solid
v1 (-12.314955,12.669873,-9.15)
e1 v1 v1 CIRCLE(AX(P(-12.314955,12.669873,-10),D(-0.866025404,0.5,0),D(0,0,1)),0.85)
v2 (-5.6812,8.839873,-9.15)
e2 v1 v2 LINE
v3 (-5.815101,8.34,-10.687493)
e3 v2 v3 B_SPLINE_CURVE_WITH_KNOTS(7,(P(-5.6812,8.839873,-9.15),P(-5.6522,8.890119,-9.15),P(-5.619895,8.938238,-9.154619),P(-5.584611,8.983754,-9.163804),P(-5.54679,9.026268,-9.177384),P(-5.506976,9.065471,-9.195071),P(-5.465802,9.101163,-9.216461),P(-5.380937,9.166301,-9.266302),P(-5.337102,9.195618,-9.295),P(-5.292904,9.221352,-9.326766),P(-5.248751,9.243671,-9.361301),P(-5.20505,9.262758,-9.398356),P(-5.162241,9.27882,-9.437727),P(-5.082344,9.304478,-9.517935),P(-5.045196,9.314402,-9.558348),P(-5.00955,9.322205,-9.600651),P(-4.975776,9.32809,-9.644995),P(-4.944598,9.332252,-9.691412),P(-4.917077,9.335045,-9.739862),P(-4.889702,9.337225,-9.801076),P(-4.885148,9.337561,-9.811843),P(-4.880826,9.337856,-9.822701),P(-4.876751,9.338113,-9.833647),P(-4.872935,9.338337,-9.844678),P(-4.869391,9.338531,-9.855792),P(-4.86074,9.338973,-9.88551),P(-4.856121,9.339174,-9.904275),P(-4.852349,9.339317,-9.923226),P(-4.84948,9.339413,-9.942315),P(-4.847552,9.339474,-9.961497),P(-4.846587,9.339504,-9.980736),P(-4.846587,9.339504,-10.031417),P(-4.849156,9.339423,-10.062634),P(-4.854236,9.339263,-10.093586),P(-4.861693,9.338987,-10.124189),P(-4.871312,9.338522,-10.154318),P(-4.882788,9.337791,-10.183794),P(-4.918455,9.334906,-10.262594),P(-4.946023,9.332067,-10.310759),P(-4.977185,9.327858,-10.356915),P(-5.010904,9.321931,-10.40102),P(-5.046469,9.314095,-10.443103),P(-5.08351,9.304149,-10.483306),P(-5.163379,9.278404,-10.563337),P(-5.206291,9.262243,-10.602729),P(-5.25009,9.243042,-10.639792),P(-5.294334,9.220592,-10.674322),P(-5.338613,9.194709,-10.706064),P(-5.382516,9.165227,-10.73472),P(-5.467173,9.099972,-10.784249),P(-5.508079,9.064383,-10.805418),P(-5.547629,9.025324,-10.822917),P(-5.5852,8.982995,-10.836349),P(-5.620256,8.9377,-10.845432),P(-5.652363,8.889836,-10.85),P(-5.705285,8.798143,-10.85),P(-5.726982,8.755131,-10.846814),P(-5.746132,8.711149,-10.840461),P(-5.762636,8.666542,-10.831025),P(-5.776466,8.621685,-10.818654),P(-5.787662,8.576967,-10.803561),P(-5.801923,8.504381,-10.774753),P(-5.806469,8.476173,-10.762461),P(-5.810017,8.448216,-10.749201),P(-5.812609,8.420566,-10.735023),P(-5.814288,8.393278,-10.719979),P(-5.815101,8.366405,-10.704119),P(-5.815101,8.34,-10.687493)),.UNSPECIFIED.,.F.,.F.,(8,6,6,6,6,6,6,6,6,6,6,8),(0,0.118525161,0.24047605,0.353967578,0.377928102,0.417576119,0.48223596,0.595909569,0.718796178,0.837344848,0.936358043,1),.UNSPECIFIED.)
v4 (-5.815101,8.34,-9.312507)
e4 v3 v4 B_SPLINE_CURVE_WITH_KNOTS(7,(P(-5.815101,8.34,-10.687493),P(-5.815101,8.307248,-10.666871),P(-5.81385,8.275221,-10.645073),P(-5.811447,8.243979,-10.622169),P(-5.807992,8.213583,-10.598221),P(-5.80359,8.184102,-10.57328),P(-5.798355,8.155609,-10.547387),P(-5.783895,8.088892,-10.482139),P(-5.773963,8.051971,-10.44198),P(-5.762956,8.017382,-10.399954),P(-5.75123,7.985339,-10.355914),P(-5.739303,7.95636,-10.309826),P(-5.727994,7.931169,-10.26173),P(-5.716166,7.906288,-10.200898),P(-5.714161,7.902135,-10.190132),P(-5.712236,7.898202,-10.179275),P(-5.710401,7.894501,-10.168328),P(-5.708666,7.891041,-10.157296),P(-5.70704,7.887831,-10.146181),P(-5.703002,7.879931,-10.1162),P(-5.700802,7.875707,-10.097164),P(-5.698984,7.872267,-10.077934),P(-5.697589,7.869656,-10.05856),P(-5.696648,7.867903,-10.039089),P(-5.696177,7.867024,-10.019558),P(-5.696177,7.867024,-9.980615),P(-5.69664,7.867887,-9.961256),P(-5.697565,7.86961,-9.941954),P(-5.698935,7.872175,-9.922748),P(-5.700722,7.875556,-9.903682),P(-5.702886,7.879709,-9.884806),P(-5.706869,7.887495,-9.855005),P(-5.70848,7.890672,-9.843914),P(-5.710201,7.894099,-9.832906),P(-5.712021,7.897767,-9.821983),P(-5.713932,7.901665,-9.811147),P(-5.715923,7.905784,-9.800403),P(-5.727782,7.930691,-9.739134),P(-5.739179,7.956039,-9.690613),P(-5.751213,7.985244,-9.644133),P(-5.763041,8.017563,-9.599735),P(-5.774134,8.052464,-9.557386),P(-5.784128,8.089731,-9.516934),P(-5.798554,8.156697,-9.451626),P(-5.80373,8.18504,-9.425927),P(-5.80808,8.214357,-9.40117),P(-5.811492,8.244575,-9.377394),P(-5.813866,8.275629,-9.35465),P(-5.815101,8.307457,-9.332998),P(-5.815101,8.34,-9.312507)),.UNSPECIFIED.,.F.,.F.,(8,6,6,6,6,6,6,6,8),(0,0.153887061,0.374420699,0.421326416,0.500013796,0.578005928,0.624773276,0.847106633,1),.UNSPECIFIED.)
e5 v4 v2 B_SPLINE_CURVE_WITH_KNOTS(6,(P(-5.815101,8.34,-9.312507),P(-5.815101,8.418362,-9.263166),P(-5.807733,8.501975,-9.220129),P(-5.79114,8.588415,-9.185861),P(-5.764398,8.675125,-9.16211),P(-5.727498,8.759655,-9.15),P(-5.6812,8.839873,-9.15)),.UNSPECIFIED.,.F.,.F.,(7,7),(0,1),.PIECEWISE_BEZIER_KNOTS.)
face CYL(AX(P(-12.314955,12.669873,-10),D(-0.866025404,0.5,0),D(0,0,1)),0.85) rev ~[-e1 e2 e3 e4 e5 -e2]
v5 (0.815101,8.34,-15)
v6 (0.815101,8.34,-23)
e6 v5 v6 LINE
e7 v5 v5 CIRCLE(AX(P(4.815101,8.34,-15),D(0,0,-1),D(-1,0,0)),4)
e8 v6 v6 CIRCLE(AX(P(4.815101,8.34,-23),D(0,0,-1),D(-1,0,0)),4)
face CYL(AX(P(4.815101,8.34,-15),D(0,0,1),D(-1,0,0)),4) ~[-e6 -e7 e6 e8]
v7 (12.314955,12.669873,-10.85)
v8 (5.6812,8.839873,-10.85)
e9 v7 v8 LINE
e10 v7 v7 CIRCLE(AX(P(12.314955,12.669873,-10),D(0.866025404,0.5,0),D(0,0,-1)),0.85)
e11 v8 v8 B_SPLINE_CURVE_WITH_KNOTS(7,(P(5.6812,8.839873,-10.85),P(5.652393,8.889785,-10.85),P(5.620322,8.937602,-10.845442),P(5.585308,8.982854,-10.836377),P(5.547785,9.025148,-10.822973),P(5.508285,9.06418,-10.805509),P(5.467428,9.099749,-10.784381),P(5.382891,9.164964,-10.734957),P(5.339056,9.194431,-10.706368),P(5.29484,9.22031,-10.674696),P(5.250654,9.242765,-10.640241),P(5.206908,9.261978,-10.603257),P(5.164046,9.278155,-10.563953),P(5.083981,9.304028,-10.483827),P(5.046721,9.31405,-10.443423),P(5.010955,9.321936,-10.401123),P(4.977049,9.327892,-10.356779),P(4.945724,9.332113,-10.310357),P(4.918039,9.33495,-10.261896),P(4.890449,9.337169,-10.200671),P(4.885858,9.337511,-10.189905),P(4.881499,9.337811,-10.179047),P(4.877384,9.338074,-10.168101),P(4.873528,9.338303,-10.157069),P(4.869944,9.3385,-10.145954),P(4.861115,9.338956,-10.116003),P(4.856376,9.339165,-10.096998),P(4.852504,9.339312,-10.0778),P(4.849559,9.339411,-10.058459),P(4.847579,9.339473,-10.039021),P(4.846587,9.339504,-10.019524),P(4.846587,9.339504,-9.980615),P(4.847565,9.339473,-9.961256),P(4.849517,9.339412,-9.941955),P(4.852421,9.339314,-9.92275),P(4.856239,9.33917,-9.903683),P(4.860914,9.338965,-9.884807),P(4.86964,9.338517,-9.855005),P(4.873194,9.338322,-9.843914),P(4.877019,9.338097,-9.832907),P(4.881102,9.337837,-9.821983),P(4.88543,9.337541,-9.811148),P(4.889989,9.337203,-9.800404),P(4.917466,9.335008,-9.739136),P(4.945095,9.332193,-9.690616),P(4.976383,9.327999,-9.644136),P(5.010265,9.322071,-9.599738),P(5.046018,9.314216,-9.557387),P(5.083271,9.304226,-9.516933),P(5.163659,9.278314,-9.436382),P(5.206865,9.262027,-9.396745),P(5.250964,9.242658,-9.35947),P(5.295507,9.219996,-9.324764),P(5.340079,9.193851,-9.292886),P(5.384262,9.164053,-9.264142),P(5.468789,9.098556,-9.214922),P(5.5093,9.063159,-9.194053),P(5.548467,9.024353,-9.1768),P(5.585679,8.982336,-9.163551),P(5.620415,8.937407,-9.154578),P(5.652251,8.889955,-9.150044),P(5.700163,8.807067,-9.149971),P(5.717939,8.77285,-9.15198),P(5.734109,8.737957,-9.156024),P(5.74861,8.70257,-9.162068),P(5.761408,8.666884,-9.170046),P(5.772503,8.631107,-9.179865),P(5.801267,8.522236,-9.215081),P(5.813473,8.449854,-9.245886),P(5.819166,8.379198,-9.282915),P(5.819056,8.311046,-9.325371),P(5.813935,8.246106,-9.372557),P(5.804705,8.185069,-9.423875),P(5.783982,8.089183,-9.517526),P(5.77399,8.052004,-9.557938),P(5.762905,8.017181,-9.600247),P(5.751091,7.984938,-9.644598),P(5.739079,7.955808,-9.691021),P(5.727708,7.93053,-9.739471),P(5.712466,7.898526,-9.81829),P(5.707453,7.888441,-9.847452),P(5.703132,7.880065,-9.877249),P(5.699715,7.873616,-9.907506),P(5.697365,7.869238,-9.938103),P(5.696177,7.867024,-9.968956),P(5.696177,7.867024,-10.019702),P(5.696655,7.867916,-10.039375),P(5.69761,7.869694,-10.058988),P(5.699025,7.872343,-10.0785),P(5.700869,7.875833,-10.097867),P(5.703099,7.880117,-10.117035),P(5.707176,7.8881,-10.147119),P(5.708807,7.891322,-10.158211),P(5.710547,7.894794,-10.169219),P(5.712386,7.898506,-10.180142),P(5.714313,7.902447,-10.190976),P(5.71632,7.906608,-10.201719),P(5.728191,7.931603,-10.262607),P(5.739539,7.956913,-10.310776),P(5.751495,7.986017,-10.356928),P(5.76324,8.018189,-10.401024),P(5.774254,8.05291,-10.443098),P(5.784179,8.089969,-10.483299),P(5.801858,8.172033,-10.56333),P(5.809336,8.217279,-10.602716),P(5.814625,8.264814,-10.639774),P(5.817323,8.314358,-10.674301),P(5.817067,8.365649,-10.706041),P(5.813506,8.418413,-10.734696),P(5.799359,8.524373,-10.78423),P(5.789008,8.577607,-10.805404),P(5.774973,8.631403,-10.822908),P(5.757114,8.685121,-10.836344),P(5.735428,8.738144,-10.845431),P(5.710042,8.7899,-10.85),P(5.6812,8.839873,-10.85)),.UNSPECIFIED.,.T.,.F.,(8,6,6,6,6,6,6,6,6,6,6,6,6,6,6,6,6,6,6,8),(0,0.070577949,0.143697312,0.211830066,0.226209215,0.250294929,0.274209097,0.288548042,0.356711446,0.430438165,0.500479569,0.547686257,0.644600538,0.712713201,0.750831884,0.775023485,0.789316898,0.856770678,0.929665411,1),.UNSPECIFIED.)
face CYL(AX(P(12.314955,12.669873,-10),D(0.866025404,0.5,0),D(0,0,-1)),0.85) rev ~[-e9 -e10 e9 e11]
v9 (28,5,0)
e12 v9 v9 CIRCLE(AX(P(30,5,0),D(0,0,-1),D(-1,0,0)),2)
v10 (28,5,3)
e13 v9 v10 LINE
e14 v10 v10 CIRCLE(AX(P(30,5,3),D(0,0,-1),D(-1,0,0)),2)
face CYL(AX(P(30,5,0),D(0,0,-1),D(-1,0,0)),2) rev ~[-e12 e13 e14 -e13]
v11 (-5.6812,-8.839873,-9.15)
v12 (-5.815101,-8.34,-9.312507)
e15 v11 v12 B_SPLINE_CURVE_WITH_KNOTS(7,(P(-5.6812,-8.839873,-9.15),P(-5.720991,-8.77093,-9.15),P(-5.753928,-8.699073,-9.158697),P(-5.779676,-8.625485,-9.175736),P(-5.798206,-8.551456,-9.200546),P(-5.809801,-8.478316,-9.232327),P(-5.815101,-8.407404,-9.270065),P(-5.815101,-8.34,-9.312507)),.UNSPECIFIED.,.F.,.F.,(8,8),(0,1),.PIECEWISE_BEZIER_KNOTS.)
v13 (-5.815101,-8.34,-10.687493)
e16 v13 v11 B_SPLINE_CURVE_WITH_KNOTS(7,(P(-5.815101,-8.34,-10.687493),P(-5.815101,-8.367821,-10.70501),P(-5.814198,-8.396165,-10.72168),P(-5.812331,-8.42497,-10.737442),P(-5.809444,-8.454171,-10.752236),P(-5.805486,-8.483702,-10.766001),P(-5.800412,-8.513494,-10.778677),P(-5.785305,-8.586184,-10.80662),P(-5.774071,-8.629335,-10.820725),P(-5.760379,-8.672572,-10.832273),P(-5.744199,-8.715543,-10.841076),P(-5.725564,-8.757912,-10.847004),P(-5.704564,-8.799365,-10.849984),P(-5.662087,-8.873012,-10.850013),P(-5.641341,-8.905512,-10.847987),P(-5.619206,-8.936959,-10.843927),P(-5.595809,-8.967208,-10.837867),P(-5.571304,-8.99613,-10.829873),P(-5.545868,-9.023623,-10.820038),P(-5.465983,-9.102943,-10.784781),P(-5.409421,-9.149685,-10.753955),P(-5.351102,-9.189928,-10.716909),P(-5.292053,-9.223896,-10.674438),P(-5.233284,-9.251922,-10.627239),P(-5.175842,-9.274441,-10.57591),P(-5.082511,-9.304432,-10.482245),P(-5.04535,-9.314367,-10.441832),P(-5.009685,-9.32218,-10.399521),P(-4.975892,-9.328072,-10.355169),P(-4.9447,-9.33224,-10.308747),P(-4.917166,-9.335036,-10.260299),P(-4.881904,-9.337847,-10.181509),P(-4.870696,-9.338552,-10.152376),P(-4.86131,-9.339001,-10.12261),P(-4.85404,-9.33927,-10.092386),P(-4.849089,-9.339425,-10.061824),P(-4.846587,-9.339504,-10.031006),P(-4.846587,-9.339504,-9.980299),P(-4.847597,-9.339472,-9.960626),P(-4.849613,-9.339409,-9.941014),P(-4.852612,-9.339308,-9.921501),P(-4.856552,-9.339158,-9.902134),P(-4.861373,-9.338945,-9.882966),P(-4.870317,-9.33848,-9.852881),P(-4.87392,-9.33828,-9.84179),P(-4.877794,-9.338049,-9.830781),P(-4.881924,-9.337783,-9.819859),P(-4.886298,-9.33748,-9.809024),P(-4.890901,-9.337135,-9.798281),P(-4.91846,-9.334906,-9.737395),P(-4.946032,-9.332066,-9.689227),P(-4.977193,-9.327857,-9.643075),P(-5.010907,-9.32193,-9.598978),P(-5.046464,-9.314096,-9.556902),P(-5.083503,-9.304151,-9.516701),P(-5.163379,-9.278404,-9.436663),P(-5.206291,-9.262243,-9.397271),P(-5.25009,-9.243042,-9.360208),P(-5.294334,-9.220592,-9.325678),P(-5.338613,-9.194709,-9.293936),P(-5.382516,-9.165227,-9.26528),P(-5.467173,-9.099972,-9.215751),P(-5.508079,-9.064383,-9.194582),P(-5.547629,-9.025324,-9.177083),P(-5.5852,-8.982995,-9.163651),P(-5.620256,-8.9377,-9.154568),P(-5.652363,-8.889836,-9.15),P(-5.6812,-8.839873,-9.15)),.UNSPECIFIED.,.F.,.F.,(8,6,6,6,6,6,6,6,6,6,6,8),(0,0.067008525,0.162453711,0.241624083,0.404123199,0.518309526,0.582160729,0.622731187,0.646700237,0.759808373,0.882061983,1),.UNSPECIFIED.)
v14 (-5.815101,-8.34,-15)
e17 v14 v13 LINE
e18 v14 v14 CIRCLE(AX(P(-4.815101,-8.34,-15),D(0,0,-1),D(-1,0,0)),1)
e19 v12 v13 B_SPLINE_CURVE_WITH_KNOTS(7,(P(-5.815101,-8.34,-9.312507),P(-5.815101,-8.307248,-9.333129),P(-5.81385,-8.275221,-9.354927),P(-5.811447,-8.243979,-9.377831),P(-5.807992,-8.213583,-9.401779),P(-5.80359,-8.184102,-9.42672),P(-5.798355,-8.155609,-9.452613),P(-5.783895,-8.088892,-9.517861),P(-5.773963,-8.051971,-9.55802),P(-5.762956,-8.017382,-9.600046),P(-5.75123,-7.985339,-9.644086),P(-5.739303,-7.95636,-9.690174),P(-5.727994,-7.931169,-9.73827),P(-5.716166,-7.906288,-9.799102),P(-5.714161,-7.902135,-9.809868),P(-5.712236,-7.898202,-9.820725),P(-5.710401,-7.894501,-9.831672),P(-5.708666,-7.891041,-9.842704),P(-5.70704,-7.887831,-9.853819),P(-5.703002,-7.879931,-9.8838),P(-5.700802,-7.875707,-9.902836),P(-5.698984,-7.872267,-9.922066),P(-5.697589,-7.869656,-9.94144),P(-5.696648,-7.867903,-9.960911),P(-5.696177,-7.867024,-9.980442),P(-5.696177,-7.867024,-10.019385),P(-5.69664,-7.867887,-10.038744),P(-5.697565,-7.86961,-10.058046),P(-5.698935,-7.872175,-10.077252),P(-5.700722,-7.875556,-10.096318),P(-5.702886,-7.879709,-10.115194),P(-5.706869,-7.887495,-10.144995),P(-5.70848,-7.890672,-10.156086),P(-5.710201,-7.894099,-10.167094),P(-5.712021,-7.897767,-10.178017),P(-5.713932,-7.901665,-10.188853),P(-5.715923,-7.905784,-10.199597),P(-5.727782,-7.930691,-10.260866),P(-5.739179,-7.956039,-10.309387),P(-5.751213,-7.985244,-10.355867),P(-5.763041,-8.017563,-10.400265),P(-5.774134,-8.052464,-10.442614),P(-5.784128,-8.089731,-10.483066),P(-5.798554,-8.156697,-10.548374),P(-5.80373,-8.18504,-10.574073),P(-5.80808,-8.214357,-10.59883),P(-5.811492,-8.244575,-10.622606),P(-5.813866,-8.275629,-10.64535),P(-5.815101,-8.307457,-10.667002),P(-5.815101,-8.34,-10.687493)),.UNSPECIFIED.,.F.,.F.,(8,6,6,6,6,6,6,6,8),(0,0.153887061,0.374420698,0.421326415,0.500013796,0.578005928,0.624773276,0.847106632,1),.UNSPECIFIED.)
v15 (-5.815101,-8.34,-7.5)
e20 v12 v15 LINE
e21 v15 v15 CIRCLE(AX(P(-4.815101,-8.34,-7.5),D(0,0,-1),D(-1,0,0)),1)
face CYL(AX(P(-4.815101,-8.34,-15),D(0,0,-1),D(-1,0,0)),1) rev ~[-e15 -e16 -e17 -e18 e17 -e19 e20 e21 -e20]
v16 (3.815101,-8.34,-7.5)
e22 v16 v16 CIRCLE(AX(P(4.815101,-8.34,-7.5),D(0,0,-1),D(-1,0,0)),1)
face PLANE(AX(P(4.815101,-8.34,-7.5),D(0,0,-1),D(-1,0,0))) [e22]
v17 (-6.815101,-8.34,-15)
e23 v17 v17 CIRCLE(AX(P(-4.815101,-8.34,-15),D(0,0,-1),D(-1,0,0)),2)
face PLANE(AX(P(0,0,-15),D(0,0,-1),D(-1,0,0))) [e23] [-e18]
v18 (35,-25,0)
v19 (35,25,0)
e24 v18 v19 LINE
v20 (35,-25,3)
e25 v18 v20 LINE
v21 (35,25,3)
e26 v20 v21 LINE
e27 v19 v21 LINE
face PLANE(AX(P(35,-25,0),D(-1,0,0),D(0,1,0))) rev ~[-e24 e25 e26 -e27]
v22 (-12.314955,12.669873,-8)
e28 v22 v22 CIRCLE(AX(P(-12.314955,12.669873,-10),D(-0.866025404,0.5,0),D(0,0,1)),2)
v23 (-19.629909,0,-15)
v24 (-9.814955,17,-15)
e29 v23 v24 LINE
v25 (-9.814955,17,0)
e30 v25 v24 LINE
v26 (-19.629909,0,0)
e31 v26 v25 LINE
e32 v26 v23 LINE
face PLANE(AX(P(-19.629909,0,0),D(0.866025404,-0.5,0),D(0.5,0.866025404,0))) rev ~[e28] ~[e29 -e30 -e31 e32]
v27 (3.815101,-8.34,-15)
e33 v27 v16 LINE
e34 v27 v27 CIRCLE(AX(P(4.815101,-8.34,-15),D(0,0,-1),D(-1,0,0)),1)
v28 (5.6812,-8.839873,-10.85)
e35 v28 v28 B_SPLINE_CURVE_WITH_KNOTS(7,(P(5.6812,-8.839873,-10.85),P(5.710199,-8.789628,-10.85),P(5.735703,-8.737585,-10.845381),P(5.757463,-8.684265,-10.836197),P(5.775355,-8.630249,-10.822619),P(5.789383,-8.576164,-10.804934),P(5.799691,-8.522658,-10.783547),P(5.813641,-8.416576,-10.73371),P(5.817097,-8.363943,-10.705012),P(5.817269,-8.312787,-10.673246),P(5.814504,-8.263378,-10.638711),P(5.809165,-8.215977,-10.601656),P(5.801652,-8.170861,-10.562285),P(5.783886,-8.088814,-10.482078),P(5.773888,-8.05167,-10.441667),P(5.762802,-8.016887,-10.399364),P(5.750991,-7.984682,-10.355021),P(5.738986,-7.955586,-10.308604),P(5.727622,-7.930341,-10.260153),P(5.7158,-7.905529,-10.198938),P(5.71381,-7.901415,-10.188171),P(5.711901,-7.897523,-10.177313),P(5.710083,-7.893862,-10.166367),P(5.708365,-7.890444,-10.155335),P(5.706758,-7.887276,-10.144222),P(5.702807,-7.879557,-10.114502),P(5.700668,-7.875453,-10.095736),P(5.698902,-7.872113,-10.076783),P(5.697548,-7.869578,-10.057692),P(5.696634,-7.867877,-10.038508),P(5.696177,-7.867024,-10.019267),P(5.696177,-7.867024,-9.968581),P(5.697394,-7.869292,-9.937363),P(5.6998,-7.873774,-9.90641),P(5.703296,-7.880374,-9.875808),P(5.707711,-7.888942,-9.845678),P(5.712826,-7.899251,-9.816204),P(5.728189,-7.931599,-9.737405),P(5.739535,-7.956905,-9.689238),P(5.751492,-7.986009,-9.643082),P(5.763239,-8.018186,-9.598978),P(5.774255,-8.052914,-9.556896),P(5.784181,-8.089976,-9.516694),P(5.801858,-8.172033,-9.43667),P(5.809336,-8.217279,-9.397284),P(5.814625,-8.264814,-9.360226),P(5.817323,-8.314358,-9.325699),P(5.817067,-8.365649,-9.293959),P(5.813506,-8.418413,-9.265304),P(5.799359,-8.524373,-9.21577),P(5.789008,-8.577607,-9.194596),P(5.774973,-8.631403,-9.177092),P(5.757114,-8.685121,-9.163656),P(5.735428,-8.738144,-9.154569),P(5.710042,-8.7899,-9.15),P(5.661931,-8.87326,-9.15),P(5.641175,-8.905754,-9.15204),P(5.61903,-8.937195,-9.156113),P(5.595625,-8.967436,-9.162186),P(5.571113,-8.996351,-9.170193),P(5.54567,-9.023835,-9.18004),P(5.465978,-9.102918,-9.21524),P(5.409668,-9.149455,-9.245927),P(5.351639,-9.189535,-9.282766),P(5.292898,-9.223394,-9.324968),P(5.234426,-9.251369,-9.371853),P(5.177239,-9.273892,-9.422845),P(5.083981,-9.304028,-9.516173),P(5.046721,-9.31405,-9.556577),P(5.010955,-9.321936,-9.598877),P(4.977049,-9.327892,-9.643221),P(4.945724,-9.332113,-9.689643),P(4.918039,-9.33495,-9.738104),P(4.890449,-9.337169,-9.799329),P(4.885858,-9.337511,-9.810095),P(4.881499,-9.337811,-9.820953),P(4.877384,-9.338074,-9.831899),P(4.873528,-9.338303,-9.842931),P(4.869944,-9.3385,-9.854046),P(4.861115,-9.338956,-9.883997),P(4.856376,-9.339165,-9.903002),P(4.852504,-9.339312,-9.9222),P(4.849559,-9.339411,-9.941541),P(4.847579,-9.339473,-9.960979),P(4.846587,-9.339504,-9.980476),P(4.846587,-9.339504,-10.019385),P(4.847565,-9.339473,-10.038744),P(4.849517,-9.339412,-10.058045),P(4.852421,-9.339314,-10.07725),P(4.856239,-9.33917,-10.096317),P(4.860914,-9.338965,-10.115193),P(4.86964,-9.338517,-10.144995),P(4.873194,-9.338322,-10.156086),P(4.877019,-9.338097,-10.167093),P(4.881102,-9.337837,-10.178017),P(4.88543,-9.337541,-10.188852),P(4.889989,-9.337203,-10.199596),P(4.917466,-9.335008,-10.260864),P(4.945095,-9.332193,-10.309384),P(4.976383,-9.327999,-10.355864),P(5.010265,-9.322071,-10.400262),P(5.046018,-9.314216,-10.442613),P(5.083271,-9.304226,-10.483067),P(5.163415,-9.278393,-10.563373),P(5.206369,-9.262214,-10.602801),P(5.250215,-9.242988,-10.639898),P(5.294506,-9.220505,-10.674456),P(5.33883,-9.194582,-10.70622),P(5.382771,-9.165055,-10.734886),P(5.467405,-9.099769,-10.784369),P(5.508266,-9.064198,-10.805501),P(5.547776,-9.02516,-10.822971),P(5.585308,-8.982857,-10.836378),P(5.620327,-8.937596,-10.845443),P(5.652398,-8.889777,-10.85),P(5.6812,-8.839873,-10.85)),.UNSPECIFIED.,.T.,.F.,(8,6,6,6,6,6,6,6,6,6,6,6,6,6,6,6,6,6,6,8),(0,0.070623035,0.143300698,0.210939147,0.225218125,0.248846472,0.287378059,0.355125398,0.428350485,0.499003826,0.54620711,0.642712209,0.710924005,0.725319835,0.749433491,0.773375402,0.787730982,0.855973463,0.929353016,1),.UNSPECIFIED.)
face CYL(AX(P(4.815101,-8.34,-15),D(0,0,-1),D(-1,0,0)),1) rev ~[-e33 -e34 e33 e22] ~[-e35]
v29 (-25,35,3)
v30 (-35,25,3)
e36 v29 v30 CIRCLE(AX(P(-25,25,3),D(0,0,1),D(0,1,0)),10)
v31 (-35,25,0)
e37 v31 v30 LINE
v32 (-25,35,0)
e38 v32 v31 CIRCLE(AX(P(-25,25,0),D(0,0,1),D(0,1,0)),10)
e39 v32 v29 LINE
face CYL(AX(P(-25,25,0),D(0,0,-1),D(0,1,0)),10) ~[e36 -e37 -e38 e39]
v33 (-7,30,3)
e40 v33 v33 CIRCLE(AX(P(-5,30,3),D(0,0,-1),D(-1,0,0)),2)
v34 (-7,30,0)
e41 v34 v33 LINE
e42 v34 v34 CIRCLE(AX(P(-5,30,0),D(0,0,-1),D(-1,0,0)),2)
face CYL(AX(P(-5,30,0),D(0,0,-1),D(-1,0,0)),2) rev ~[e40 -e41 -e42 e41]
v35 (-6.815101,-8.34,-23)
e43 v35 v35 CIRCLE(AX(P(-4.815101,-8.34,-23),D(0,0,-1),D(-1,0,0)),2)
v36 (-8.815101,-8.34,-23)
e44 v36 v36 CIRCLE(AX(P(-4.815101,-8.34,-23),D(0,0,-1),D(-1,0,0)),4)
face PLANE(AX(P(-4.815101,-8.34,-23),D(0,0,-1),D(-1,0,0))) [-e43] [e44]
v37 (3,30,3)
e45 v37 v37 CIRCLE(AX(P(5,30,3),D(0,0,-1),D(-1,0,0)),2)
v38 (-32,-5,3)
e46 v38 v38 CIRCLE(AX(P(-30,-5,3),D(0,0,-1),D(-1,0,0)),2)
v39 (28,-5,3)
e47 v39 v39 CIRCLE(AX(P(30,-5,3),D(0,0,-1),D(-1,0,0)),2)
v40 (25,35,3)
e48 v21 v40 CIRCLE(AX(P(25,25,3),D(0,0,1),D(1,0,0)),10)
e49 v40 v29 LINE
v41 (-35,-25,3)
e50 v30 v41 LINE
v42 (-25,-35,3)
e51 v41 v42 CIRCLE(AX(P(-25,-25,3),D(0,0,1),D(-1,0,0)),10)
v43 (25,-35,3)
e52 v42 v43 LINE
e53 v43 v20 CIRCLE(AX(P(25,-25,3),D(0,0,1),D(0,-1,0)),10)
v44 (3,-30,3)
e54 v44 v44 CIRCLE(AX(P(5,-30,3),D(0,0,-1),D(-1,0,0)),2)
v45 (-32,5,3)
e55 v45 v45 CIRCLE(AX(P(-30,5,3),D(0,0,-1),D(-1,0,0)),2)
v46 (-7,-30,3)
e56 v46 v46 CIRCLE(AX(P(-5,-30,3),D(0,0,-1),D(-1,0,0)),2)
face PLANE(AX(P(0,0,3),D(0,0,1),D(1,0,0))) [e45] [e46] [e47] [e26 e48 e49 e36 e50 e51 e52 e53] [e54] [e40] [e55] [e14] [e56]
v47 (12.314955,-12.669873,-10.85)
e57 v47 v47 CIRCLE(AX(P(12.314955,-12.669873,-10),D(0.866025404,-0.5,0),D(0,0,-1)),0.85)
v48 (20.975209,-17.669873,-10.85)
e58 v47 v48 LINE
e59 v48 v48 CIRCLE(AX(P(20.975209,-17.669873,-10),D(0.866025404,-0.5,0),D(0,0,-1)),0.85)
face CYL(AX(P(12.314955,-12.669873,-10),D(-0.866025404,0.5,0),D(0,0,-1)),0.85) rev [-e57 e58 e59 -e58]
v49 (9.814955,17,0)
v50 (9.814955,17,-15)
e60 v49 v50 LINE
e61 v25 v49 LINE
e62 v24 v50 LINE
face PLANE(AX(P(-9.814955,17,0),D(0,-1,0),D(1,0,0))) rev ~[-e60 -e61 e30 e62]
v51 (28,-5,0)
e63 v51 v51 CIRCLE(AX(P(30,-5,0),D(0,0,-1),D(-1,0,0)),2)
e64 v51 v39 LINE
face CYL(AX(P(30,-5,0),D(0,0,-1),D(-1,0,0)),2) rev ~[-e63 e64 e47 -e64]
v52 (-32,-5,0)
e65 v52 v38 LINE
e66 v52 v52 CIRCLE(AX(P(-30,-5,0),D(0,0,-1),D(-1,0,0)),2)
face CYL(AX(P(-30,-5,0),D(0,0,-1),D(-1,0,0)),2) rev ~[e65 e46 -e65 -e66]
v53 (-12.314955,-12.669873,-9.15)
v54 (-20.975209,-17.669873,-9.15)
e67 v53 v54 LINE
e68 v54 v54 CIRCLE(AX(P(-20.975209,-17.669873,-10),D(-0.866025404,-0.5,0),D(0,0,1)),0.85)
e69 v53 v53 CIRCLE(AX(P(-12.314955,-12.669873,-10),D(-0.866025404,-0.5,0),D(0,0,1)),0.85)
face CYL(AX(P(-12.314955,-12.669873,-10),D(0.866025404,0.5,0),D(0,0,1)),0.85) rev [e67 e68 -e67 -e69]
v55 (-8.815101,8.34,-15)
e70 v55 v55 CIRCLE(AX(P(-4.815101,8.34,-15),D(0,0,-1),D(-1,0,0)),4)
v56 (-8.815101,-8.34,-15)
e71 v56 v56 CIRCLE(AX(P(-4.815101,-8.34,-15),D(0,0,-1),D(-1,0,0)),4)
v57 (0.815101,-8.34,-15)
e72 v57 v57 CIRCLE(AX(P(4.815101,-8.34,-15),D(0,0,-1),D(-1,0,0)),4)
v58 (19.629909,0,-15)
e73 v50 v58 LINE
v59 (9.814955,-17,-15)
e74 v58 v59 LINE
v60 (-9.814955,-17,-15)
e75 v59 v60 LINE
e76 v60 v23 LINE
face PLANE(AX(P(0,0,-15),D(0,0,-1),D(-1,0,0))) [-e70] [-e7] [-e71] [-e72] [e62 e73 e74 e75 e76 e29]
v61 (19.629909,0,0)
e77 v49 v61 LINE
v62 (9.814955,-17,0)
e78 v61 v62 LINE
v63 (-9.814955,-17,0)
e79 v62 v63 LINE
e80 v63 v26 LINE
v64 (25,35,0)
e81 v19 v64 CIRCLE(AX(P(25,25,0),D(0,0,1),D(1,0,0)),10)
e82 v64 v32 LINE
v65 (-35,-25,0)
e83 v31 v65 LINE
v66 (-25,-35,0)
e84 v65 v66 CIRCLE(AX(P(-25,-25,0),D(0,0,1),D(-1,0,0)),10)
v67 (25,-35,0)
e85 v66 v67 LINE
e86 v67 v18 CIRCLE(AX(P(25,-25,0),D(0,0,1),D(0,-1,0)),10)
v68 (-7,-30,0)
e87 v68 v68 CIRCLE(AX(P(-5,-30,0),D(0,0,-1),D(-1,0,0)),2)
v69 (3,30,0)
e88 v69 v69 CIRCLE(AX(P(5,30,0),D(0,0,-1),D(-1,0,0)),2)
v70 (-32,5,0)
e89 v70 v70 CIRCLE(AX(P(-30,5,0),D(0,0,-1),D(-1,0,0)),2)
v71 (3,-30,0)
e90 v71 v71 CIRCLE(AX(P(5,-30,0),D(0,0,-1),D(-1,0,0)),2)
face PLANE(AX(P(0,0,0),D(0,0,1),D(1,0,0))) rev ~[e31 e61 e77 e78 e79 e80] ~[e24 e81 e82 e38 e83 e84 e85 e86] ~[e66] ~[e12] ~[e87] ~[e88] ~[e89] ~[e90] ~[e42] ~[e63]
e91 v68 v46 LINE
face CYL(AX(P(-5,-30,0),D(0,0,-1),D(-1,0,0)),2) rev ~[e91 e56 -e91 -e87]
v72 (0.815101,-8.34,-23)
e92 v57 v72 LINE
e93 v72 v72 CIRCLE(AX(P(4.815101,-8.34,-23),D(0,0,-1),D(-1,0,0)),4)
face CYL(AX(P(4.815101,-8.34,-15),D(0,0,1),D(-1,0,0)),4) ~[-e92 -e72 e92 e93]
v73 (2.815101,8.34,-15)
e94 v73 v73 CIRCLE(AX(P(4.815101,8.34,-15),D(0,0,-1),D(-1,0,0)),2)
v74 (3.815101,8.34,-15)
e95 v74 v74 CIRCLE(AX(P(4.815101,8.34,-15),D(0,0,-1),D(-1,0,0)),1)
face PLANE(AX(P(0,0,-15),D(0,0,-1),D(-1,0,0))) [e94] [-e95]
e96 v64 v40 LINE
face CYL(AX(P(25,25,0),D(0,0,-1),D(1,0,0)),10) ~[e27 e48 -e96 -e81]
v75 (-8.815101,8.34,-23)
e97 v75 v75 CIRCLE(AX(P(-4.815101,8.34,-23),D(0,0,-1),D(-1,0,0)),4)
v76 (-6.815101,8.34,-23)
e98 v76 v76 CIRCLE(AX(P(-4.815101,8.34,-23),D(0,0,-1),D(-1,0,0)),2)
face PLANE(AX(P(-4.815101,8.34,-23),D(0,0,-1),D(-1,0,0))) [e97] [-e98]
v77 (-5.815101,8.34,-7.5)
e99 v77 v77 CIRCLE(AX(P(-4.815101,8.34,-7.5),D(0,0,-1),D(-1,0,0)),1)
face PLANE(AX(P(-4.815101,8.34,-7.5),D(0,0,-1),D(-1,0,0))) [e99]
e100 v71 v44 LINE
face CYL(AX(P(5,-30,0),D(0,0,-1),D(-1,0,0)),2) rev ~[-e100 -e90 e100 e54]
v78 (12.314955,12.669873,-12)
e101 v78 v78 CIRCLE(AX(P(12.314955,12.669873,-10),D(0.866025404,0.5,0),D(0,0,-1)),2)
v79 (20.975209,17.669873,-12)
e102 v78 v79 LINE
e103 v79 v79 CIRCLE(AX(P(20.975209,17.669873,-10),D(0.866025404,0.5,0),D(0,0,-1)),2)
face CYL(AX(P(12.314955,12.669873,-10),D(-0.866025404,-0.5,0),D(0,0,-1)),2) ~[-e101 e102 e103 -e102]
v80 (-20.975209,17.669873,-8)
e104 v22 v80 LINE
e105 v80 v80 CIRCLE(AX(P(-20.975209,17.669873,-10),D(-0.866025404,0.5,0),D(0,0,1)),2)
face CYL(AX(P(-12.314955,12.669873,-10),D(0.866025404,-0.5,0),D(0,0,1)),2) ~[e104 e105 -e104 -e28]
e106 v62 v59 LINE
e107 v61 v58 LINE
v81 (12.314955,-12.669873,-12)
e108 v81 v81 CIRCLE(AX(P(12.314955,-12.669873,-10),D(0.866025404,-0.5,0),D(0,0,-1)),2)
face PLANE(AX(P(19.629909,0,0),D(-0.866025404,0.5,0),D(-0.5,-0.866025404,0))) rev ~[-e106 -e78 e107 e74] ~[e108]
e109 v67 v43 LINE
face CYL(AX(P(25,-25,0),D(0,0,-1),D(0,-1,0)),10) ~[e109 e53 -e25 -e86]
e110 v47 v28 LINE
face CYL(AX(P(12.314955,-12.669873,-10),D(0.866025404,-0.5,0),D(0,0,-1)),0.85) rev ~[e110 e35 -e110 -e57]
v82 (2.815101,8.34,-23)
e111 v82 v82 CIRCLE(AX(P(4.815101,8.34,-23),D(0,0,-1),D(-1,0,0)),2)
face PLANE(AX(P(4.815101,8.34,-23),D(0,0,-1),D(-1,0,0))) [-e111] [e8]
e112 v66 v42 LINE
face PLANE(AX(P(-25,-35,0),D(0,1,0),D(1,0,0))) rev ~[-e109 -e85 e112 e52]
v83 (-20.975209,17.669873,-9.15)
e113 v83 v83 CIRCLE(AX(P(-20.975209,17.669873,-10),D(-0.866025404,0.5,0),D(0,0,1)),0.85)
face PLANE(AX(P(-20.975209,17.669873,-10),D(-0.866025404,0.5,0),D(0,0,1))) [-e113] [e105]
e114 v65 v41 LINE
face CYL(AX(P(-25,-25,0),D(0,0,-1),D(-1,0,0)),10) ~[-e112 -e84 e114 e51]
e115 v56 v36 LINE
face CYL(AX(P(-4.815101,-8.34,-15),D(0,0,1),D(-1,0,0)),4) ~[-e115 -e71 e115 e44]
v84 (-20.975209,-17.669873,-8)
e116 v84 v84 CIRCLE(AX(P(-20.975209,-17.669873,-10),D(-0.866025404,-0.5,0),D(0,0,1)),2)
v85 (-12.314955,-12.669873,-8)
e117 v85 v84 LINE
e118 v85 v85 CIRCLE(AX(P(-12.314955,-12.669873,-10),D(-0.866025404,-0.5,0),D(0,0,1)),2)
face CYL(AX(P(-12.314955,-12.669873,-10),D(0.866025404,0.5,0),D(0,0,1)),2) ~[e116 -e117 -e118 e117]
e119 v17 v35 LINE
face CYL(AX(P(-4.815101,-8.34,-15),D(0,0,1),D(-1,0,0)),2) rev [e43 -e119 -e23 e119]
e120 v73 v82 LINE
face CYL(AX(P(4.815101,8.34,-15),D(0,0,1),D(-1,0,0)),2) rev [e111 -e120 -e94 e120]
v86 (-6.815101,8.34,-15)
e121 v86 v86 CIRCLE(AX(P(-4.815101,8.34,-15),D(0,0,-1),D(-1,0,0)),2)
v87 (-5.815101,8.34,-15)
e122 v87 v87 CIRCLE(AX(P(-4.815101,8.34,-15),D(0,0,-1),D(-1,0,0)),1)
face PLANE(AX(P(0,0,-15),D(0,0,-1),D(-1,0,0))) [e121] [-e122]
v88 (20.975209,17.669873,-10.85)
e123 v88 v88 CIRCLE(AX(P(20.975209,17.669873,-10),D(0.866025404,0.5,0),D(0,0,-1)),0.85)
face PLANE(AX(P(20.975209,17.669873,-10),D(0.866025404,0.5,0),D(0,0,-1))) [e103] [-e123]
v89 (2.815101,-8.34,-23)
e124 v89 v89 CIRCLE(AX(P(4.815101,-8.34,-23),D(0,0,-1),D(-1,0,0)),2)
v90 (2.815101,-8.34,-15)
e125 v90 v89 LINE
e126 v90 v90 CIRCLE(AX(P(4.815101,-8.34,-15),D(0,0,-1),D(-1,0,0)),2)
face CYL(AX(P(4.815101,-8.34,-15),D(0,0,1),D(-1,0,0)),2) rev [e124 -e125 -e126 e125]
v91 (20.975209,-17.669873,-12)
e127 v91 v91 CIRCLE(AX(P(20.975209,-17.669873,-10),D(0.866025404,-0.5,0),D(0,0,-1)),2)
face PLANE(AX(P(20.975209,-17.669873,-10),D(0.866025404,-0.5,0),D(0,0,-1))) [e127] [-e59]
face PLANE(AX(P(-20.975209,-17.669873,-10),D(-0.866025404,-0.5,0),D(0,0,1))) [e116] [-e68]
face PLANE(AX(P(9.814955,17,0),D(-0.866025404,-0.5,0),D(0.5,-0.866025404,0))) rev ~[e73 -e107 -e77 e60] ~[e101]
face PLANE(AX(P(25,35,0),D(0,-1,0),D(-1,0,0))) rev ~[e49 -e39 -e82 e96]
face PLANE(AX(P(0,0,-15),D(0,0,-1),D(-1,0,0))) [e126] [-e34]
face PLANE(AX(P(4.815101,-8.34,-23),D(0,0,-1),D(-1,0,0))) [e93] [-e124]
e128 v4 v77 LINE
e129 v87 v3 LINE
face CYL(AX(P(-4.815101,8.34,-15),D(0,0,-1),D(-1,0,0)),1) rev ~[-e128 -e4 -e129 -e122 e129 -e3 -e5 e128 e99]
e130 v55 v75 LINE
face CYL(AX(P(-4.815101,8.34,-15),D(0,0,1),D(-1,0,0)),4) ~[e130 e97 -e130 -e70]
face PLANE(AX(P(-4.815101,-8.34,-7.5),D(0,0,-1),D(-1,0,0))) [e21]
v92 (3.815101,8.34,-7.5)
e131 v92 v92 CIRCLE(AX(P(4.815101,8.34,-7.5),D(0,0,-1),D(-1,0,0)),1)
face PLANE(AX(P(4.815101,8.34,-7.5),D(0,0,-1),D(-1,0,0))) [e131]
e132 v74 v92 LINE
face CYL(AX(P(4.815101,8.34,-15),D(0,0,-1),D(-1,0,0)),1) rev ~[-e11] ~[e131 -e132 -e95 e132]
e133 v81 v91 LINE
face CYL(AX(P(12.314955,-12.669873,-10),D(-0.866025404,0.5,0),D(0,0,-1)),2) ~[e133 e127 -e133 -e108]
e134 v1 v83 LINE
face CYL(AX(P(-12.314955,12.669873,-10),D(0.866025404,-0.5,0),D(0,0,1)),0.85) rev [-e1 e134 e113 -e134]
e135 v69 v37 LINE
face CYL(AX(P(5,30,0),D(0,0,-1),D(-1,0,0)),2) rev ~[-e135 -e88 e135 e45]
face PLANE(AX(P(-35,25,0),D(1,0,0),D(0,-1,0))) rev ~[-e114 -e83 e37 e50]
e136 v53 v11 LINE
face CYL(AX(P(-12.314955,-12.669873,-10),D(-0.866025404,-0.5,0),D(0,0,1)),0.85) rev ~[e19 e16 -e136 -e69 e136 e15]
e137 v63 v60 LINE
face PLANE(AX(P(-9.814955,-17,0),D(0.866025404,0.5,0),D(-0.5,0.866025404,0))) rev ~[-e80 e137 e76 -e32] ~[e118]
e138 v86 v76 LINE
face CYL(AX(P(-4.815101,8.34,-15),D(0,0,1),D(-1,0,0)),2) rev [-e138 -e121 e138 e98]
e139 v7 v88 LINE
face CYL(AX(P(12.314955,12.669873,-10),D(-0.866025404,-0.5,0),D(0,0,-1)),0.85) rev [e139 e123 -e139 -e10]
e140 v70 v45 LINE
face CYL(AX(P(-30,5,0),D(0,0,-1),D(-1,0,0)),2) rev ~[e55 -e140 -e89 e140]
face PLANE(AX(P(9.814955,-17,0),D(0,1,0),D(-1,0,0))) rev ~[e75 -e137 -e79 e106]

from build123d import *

# Parameters (mm, degrees)
SKETCH_1_R           = 1.75
EXTRUDE_3_DEPTH      = 3
EXTRUDE_4_DEPTH      = 15
SKETCH_3_R           = 1
CUT_EXTRUDE_5_DEPTH  = 7.5
SKETCH_8_R           = 0.85
CUT_EXTRUDE_8_DEPTH  = 9
SKETCH_10_R          = 0.85
CUT_EXTRUDE_9_DEPTH  = 9
SKETCH_11_R          = 0.85
CUT_EXTRUDE_10_DEPTH = 9
SKETCH_12_R          = 0.85
CUT_EXTRUDE_11_DEPTH = 9
SKETCH_13_R          = 2
SKETCH_13_R_2        = 0.85
EXTRUDE_5_DEPTH      = 10
SKETCH_14_R          = 2
SKETCH_14_R_2        = 0.85
EXTRUDE_6_DEPTH      = 10
SKETCH_15_R          = 2
SKETCH_15_R_2        = 0.85
EXTRUDE_7_DEPTH      = 10
SKETCH_16_R          = 2
SKETCH_16_R_2        = 0.85
EXTRUDE_8_DEPTH      = 10
SKETCH_17_R          = 4
SKETCH_17_R_2        = 2
EXTRUDE_9_DEPTH      = 8
SKETCH_18_R          = 1.75
EXTRUDE_10_DEPTH     = 3
SKETCH_19_R          = 2
EXTRUDE_11_DEPTH     = 3


with BuildPart() as part:
    # 草图1 → 凸台-拉伸3 (new body)
    with BuildSketch(Plane.XY):
        with BuildLine():
            Line((-18, -25), (18, -25))
            ThreePointArc((18, -25), (22.949747468, -22.949747468), (25, -18))
            Line((25, -18), (25, 18))
            ThreePointArc((25, 18), (22.949747468, 22.949747468), (18, 25))
            Line((18, 25), (-18, 25))
            ThreePointArc((-18, 25), (-22.949747468, 22.949747468), (-25, 18))
            Line((-25, 18), (-25, -18))
            ThreePointArc((-25, -18), (-22.949747468, -22.949747468), (-18, -25))
        make_face()
        with Locations((20, 20)):
            Circle(SKETCH_1_R, mode=Mode.SUBTRACT)
        with Locations((-20, 20)):
            Circle(SKETCH_1_R, mode=Mode.SUBTRACT)
        with Locations((-20, -20)):
            Circle(SKETCH_1_R, mode=Mode.SUBTRACT)
        with Locations((20, -20)):
            Circle(SKETCH_1_R, mode=Mode.SUBTRACT)
    extrude(amount=EXTRUDE_3_DEPTH)

    # 草图2 → 凸台-拉伸4 (add)
    with BuildSketch(Plane(origin=(0, 0, 0), x_dir=(-1, 0, 0), z_dir=(0, 0, -1))):
        Polygon((9.814954576, -17), (19.629909152, 0), (9.814954576, 17), (-9.814954576, 17), (-19.629909152, 0), (-9.814954576, -17), align=None)
    extrude(amount=EXTRUDE_4_DEPTH)

    # 草图3 → 切除-拉伸5 (cut)
    with BuildSketch(Plane(origin=(0, 0, -15), x_dir=(-1, 0, 0), z_dir=(0, 0, -1))):
        with Locations((-4.815101245, 8.34)):
            Circle(SKETCH_3_R)
        with Locations((4.815101245, 8.34)):
            Circle(SKETCH_3_R)
        with Locations((4.815101245, -8.34)):
            Circle(SKETCH_3_R)
        with Locations((-4.815101245, -8.34)):
            Circle(SKETCH_3_R)
    extrude(amount=-CUT_EXTRUDE_5_DEPTH, mode=Mode.SUBTRACT)

    # 草图8 → 切除-拉伸8 (cut)
    with BuildSketch(Plane(origin=(14.722431864, 8.5, 0), x_dir=(0, 0, -1), z_dir=(0.866025404, 0.5, 0))):
        with Locations((10, 4.814954576)):
            Circle(SKETCH_8_R)
    extrude(amount=-CUT_EXTRUDE_8_DEPTH, mode=Mode.SUBTRACT)

    # 草图10 → 切除-拉伸9 (cut)
    with BuildSketch(Plane(origin=(-14.722431864, 8.5, 0), x_dir=(0, 0, 1), z_dir=(-0.866025404, 0.5, 0))):
        with Locations((-10, 4.814954576)):
            Circle(SKETCH_10_R)
    extrude(amount=-CUT_EXTRUDE_9_DEPTH, mode=Mode.SUBTRACT)

    # 草图11 → 切除-拉伸10 (cut)
    with BuildSketch(Plane(origin=(-14.722431864, -8.5, 0), x_dir=(0, 0, 1), z_dir=(-0.866025404, -0.5, 0))):
        with Locations((-10, -4.814954576)):
            Circle(SKETCH_11_R)
    extrude(amount=-CUT_EXTRUDE_10_DEPTH, mode=Mode.SUBTRACT)

    # 草图12 → 切除-拉伸11 (cut)
    with BuildSketch(Plane(origin=(14.722431864, -8.5, 0), x_dir=(0, 0, -1), z_dir=(0.866025404, -0.5, 0))):
        with Locations((10, -4.814954576)):
            Circle(SKETCH_12_R)
    extrude(amount=-CUT_EXTRUDE_11_DEPTH, mode=Mode.SUBTRACT)

    # 草图13 → 凸台-拉伸5 (add)
    with BuildSketch(Plane(origin=(14.722431864, 8.5, 0), x_dir=(0, 0, -1), z_dir=(0.866025404, 0.5, 0))):
        with Locations((10, 4.814954576)):
            Circle(SKETCH_13_R)
        with Locations((10, 4.814954576)):
            Circle(SKETCH_13_R_2, mode=Mode.SUBTRACT)
    extrude(amount=EXTRUDE_5_DEPTH)

    # 草图14 → 凸台-拉伸6 (add)
    with BuildSketch(Plane(origin=(-14.722431864, 8.5, 0), x_dir=(0, 0, 1), z_dir=(-0.866025404, 0.5, 0))):
        with Locations((-10, 4.814954576)):
            Circle(SKETCH_14_R)
        with Locations((-10, 4.814954576)):
            Circle(SKETCH_14_R_2, mode=Mode.SUBTRACT)
    extrude(amount=EXTRUDE_6_DEPTH)

    # 草图15 → 凸台-拉伸7 (add)
    with BuildSketch(Plane(origin=(-14.722431864, -8.5, 0), x_dir=(0, 0, 1), z_dir=(-0.866025404, -0.5, 0))):
        with Locations((-10, -4.814954576)):
            Circle(SKETCH_15_R)
        with Locations((-10, -4.814954576)):
            Circle(SKETCH_15_R_2, mode=Mode.SUBTRACT)
    extrude(amount=EXTRUDE_7_DEPTH)

    # 草图16 → 凸台-拉伸8 (add)
    with BuildSketch(Plane(origin=(14.722431864, -8.5, 0), x_dir=(0, 0, -1), z_dir=(0.866025404, -0.5, 0))):
        with Locations((10, -4.814954576)):
            Circle(SKETCH_16_R)
        with Locations((10, -4.814954576)):
            Circle(SKETCH_16_R_2, mode=Mode.SUBTRACT)
    extrude(amount=EXTRUDE_8_DEPTH)

    # 草图17 → 凸台-拉伸9 (add)
    with BuildSketch(Plane(origin=(0, 0, -15), x_dir=(-1, 0, 0), z_dir=(0, 0, -1))):
        with Locations((4.815101245, 8.34)):
            Circle(SKETCH_17_R)
        with Locations((4.815101245, 8.34)):
            Circle(SKETCH_17_R_2, mode=Mode.SUBTRACT)
        with Locations((-4.815101245, 8.34)):
            Circle(SKETCH_17_R)
        with Locations((-4.815101245, 8.34)):
            Circle(SKETCH_17_R_2, mode=Mode.SUBTRACT)
        with Locations((-4.815101245, -8.34)):
            Circle(SKETCH_17_R)
        with Locations((-4.815101245, -8.34)):
            Circle(SKETCH_17_R_2, mode=Mode.SUBTRACT)
        with Locations((4.815101245, -8.34)):
            Circle(SKETCH_17_R)
        with Locations((4.815101245, -8.34)):
            Circle(SKETCH_17_R_2, mode=Mode.SUBTRACT)
    extrude(amount=EXTRUDE_9_DEPTH)

    # 草图18 → 凸台-拉伸10 (add)
    with BuildSketch(Plane(origin=(0, 0, 0), x_dir=(-1, 0, 0), z_dir=(0, 0, -1))):
        with Locations((20, 20)):
            Circle(SKETCH_18_R)
        with Locations((-20, 20)):
            Circle(SKETCH_18_R)
        with Locations((-20, -20)):
            Circle(SKETCH_18_R)
        with Locations((20, -20)):
            Circle(SKETCH_18_R)
    extrude(amount=-EXTRUDE_10_DEPTH)

    # 草图19 → 凸台-拉伸11 (add)
    with BuildSketch(Plane(origin=(0, 0, 0), x_dir=(-1, 0, 0), z_dir=(0, 0, -1))):
        with BuildLine():
            Line((-25, 35), (25, 35))
            ThreePointArc((25, 35), (32.071067812, 32.071067812), (35, 25))
            Line((35, 25), (35, -25))
            ThreePointArc((35, -25), (32.071067812, -32.071067812), (25, -35))
            Line((25, -35), (-25, -35))
            ThreePointArc((-25, -35), (-32.071067812, -32.071067812), (-35, -25))
            Line((-35, -25), (-35, 25))
            ThreePointArc((-35, 25), (-32.071067812, 32.071067812), (-25, 35))
        make_face()
        with Locations((-30, 5)):
            Circle(SKETCH_19_R, mode=Mode.SUBTRACT)
        with Locations((-30, -5)):
            Circle(SKETCH_19_R, mode=Mode.SUBTRACT)
        with Locations((-5, -30)):
            Circle(SKETCH_19_R, mode=Mode.SUBTRACT)
        with Locations((5, -30)):
            Circle(SKETCH_19_R, mode=Mode.SUBTRACT)
        with Locations((-5, 30)):
            Circle(SKETCH_19_R, mode=Mode.SUBTRACT)
        with Locations((5, 30)):
            Circle(SKETCH_19_R, mode=Mode.SUBTRACT)
        with Locations((30, 5)):
            Circle(SKETCH_19_R, mode=Mode.SUBTRACT)
        with Locations((30, -5)):
            Circle(SKETCH_19_R, mode=Mode.SUBTRACT)
    extrude(amount=-EXTRUDE_11_DEPTH)


solid = part.part
